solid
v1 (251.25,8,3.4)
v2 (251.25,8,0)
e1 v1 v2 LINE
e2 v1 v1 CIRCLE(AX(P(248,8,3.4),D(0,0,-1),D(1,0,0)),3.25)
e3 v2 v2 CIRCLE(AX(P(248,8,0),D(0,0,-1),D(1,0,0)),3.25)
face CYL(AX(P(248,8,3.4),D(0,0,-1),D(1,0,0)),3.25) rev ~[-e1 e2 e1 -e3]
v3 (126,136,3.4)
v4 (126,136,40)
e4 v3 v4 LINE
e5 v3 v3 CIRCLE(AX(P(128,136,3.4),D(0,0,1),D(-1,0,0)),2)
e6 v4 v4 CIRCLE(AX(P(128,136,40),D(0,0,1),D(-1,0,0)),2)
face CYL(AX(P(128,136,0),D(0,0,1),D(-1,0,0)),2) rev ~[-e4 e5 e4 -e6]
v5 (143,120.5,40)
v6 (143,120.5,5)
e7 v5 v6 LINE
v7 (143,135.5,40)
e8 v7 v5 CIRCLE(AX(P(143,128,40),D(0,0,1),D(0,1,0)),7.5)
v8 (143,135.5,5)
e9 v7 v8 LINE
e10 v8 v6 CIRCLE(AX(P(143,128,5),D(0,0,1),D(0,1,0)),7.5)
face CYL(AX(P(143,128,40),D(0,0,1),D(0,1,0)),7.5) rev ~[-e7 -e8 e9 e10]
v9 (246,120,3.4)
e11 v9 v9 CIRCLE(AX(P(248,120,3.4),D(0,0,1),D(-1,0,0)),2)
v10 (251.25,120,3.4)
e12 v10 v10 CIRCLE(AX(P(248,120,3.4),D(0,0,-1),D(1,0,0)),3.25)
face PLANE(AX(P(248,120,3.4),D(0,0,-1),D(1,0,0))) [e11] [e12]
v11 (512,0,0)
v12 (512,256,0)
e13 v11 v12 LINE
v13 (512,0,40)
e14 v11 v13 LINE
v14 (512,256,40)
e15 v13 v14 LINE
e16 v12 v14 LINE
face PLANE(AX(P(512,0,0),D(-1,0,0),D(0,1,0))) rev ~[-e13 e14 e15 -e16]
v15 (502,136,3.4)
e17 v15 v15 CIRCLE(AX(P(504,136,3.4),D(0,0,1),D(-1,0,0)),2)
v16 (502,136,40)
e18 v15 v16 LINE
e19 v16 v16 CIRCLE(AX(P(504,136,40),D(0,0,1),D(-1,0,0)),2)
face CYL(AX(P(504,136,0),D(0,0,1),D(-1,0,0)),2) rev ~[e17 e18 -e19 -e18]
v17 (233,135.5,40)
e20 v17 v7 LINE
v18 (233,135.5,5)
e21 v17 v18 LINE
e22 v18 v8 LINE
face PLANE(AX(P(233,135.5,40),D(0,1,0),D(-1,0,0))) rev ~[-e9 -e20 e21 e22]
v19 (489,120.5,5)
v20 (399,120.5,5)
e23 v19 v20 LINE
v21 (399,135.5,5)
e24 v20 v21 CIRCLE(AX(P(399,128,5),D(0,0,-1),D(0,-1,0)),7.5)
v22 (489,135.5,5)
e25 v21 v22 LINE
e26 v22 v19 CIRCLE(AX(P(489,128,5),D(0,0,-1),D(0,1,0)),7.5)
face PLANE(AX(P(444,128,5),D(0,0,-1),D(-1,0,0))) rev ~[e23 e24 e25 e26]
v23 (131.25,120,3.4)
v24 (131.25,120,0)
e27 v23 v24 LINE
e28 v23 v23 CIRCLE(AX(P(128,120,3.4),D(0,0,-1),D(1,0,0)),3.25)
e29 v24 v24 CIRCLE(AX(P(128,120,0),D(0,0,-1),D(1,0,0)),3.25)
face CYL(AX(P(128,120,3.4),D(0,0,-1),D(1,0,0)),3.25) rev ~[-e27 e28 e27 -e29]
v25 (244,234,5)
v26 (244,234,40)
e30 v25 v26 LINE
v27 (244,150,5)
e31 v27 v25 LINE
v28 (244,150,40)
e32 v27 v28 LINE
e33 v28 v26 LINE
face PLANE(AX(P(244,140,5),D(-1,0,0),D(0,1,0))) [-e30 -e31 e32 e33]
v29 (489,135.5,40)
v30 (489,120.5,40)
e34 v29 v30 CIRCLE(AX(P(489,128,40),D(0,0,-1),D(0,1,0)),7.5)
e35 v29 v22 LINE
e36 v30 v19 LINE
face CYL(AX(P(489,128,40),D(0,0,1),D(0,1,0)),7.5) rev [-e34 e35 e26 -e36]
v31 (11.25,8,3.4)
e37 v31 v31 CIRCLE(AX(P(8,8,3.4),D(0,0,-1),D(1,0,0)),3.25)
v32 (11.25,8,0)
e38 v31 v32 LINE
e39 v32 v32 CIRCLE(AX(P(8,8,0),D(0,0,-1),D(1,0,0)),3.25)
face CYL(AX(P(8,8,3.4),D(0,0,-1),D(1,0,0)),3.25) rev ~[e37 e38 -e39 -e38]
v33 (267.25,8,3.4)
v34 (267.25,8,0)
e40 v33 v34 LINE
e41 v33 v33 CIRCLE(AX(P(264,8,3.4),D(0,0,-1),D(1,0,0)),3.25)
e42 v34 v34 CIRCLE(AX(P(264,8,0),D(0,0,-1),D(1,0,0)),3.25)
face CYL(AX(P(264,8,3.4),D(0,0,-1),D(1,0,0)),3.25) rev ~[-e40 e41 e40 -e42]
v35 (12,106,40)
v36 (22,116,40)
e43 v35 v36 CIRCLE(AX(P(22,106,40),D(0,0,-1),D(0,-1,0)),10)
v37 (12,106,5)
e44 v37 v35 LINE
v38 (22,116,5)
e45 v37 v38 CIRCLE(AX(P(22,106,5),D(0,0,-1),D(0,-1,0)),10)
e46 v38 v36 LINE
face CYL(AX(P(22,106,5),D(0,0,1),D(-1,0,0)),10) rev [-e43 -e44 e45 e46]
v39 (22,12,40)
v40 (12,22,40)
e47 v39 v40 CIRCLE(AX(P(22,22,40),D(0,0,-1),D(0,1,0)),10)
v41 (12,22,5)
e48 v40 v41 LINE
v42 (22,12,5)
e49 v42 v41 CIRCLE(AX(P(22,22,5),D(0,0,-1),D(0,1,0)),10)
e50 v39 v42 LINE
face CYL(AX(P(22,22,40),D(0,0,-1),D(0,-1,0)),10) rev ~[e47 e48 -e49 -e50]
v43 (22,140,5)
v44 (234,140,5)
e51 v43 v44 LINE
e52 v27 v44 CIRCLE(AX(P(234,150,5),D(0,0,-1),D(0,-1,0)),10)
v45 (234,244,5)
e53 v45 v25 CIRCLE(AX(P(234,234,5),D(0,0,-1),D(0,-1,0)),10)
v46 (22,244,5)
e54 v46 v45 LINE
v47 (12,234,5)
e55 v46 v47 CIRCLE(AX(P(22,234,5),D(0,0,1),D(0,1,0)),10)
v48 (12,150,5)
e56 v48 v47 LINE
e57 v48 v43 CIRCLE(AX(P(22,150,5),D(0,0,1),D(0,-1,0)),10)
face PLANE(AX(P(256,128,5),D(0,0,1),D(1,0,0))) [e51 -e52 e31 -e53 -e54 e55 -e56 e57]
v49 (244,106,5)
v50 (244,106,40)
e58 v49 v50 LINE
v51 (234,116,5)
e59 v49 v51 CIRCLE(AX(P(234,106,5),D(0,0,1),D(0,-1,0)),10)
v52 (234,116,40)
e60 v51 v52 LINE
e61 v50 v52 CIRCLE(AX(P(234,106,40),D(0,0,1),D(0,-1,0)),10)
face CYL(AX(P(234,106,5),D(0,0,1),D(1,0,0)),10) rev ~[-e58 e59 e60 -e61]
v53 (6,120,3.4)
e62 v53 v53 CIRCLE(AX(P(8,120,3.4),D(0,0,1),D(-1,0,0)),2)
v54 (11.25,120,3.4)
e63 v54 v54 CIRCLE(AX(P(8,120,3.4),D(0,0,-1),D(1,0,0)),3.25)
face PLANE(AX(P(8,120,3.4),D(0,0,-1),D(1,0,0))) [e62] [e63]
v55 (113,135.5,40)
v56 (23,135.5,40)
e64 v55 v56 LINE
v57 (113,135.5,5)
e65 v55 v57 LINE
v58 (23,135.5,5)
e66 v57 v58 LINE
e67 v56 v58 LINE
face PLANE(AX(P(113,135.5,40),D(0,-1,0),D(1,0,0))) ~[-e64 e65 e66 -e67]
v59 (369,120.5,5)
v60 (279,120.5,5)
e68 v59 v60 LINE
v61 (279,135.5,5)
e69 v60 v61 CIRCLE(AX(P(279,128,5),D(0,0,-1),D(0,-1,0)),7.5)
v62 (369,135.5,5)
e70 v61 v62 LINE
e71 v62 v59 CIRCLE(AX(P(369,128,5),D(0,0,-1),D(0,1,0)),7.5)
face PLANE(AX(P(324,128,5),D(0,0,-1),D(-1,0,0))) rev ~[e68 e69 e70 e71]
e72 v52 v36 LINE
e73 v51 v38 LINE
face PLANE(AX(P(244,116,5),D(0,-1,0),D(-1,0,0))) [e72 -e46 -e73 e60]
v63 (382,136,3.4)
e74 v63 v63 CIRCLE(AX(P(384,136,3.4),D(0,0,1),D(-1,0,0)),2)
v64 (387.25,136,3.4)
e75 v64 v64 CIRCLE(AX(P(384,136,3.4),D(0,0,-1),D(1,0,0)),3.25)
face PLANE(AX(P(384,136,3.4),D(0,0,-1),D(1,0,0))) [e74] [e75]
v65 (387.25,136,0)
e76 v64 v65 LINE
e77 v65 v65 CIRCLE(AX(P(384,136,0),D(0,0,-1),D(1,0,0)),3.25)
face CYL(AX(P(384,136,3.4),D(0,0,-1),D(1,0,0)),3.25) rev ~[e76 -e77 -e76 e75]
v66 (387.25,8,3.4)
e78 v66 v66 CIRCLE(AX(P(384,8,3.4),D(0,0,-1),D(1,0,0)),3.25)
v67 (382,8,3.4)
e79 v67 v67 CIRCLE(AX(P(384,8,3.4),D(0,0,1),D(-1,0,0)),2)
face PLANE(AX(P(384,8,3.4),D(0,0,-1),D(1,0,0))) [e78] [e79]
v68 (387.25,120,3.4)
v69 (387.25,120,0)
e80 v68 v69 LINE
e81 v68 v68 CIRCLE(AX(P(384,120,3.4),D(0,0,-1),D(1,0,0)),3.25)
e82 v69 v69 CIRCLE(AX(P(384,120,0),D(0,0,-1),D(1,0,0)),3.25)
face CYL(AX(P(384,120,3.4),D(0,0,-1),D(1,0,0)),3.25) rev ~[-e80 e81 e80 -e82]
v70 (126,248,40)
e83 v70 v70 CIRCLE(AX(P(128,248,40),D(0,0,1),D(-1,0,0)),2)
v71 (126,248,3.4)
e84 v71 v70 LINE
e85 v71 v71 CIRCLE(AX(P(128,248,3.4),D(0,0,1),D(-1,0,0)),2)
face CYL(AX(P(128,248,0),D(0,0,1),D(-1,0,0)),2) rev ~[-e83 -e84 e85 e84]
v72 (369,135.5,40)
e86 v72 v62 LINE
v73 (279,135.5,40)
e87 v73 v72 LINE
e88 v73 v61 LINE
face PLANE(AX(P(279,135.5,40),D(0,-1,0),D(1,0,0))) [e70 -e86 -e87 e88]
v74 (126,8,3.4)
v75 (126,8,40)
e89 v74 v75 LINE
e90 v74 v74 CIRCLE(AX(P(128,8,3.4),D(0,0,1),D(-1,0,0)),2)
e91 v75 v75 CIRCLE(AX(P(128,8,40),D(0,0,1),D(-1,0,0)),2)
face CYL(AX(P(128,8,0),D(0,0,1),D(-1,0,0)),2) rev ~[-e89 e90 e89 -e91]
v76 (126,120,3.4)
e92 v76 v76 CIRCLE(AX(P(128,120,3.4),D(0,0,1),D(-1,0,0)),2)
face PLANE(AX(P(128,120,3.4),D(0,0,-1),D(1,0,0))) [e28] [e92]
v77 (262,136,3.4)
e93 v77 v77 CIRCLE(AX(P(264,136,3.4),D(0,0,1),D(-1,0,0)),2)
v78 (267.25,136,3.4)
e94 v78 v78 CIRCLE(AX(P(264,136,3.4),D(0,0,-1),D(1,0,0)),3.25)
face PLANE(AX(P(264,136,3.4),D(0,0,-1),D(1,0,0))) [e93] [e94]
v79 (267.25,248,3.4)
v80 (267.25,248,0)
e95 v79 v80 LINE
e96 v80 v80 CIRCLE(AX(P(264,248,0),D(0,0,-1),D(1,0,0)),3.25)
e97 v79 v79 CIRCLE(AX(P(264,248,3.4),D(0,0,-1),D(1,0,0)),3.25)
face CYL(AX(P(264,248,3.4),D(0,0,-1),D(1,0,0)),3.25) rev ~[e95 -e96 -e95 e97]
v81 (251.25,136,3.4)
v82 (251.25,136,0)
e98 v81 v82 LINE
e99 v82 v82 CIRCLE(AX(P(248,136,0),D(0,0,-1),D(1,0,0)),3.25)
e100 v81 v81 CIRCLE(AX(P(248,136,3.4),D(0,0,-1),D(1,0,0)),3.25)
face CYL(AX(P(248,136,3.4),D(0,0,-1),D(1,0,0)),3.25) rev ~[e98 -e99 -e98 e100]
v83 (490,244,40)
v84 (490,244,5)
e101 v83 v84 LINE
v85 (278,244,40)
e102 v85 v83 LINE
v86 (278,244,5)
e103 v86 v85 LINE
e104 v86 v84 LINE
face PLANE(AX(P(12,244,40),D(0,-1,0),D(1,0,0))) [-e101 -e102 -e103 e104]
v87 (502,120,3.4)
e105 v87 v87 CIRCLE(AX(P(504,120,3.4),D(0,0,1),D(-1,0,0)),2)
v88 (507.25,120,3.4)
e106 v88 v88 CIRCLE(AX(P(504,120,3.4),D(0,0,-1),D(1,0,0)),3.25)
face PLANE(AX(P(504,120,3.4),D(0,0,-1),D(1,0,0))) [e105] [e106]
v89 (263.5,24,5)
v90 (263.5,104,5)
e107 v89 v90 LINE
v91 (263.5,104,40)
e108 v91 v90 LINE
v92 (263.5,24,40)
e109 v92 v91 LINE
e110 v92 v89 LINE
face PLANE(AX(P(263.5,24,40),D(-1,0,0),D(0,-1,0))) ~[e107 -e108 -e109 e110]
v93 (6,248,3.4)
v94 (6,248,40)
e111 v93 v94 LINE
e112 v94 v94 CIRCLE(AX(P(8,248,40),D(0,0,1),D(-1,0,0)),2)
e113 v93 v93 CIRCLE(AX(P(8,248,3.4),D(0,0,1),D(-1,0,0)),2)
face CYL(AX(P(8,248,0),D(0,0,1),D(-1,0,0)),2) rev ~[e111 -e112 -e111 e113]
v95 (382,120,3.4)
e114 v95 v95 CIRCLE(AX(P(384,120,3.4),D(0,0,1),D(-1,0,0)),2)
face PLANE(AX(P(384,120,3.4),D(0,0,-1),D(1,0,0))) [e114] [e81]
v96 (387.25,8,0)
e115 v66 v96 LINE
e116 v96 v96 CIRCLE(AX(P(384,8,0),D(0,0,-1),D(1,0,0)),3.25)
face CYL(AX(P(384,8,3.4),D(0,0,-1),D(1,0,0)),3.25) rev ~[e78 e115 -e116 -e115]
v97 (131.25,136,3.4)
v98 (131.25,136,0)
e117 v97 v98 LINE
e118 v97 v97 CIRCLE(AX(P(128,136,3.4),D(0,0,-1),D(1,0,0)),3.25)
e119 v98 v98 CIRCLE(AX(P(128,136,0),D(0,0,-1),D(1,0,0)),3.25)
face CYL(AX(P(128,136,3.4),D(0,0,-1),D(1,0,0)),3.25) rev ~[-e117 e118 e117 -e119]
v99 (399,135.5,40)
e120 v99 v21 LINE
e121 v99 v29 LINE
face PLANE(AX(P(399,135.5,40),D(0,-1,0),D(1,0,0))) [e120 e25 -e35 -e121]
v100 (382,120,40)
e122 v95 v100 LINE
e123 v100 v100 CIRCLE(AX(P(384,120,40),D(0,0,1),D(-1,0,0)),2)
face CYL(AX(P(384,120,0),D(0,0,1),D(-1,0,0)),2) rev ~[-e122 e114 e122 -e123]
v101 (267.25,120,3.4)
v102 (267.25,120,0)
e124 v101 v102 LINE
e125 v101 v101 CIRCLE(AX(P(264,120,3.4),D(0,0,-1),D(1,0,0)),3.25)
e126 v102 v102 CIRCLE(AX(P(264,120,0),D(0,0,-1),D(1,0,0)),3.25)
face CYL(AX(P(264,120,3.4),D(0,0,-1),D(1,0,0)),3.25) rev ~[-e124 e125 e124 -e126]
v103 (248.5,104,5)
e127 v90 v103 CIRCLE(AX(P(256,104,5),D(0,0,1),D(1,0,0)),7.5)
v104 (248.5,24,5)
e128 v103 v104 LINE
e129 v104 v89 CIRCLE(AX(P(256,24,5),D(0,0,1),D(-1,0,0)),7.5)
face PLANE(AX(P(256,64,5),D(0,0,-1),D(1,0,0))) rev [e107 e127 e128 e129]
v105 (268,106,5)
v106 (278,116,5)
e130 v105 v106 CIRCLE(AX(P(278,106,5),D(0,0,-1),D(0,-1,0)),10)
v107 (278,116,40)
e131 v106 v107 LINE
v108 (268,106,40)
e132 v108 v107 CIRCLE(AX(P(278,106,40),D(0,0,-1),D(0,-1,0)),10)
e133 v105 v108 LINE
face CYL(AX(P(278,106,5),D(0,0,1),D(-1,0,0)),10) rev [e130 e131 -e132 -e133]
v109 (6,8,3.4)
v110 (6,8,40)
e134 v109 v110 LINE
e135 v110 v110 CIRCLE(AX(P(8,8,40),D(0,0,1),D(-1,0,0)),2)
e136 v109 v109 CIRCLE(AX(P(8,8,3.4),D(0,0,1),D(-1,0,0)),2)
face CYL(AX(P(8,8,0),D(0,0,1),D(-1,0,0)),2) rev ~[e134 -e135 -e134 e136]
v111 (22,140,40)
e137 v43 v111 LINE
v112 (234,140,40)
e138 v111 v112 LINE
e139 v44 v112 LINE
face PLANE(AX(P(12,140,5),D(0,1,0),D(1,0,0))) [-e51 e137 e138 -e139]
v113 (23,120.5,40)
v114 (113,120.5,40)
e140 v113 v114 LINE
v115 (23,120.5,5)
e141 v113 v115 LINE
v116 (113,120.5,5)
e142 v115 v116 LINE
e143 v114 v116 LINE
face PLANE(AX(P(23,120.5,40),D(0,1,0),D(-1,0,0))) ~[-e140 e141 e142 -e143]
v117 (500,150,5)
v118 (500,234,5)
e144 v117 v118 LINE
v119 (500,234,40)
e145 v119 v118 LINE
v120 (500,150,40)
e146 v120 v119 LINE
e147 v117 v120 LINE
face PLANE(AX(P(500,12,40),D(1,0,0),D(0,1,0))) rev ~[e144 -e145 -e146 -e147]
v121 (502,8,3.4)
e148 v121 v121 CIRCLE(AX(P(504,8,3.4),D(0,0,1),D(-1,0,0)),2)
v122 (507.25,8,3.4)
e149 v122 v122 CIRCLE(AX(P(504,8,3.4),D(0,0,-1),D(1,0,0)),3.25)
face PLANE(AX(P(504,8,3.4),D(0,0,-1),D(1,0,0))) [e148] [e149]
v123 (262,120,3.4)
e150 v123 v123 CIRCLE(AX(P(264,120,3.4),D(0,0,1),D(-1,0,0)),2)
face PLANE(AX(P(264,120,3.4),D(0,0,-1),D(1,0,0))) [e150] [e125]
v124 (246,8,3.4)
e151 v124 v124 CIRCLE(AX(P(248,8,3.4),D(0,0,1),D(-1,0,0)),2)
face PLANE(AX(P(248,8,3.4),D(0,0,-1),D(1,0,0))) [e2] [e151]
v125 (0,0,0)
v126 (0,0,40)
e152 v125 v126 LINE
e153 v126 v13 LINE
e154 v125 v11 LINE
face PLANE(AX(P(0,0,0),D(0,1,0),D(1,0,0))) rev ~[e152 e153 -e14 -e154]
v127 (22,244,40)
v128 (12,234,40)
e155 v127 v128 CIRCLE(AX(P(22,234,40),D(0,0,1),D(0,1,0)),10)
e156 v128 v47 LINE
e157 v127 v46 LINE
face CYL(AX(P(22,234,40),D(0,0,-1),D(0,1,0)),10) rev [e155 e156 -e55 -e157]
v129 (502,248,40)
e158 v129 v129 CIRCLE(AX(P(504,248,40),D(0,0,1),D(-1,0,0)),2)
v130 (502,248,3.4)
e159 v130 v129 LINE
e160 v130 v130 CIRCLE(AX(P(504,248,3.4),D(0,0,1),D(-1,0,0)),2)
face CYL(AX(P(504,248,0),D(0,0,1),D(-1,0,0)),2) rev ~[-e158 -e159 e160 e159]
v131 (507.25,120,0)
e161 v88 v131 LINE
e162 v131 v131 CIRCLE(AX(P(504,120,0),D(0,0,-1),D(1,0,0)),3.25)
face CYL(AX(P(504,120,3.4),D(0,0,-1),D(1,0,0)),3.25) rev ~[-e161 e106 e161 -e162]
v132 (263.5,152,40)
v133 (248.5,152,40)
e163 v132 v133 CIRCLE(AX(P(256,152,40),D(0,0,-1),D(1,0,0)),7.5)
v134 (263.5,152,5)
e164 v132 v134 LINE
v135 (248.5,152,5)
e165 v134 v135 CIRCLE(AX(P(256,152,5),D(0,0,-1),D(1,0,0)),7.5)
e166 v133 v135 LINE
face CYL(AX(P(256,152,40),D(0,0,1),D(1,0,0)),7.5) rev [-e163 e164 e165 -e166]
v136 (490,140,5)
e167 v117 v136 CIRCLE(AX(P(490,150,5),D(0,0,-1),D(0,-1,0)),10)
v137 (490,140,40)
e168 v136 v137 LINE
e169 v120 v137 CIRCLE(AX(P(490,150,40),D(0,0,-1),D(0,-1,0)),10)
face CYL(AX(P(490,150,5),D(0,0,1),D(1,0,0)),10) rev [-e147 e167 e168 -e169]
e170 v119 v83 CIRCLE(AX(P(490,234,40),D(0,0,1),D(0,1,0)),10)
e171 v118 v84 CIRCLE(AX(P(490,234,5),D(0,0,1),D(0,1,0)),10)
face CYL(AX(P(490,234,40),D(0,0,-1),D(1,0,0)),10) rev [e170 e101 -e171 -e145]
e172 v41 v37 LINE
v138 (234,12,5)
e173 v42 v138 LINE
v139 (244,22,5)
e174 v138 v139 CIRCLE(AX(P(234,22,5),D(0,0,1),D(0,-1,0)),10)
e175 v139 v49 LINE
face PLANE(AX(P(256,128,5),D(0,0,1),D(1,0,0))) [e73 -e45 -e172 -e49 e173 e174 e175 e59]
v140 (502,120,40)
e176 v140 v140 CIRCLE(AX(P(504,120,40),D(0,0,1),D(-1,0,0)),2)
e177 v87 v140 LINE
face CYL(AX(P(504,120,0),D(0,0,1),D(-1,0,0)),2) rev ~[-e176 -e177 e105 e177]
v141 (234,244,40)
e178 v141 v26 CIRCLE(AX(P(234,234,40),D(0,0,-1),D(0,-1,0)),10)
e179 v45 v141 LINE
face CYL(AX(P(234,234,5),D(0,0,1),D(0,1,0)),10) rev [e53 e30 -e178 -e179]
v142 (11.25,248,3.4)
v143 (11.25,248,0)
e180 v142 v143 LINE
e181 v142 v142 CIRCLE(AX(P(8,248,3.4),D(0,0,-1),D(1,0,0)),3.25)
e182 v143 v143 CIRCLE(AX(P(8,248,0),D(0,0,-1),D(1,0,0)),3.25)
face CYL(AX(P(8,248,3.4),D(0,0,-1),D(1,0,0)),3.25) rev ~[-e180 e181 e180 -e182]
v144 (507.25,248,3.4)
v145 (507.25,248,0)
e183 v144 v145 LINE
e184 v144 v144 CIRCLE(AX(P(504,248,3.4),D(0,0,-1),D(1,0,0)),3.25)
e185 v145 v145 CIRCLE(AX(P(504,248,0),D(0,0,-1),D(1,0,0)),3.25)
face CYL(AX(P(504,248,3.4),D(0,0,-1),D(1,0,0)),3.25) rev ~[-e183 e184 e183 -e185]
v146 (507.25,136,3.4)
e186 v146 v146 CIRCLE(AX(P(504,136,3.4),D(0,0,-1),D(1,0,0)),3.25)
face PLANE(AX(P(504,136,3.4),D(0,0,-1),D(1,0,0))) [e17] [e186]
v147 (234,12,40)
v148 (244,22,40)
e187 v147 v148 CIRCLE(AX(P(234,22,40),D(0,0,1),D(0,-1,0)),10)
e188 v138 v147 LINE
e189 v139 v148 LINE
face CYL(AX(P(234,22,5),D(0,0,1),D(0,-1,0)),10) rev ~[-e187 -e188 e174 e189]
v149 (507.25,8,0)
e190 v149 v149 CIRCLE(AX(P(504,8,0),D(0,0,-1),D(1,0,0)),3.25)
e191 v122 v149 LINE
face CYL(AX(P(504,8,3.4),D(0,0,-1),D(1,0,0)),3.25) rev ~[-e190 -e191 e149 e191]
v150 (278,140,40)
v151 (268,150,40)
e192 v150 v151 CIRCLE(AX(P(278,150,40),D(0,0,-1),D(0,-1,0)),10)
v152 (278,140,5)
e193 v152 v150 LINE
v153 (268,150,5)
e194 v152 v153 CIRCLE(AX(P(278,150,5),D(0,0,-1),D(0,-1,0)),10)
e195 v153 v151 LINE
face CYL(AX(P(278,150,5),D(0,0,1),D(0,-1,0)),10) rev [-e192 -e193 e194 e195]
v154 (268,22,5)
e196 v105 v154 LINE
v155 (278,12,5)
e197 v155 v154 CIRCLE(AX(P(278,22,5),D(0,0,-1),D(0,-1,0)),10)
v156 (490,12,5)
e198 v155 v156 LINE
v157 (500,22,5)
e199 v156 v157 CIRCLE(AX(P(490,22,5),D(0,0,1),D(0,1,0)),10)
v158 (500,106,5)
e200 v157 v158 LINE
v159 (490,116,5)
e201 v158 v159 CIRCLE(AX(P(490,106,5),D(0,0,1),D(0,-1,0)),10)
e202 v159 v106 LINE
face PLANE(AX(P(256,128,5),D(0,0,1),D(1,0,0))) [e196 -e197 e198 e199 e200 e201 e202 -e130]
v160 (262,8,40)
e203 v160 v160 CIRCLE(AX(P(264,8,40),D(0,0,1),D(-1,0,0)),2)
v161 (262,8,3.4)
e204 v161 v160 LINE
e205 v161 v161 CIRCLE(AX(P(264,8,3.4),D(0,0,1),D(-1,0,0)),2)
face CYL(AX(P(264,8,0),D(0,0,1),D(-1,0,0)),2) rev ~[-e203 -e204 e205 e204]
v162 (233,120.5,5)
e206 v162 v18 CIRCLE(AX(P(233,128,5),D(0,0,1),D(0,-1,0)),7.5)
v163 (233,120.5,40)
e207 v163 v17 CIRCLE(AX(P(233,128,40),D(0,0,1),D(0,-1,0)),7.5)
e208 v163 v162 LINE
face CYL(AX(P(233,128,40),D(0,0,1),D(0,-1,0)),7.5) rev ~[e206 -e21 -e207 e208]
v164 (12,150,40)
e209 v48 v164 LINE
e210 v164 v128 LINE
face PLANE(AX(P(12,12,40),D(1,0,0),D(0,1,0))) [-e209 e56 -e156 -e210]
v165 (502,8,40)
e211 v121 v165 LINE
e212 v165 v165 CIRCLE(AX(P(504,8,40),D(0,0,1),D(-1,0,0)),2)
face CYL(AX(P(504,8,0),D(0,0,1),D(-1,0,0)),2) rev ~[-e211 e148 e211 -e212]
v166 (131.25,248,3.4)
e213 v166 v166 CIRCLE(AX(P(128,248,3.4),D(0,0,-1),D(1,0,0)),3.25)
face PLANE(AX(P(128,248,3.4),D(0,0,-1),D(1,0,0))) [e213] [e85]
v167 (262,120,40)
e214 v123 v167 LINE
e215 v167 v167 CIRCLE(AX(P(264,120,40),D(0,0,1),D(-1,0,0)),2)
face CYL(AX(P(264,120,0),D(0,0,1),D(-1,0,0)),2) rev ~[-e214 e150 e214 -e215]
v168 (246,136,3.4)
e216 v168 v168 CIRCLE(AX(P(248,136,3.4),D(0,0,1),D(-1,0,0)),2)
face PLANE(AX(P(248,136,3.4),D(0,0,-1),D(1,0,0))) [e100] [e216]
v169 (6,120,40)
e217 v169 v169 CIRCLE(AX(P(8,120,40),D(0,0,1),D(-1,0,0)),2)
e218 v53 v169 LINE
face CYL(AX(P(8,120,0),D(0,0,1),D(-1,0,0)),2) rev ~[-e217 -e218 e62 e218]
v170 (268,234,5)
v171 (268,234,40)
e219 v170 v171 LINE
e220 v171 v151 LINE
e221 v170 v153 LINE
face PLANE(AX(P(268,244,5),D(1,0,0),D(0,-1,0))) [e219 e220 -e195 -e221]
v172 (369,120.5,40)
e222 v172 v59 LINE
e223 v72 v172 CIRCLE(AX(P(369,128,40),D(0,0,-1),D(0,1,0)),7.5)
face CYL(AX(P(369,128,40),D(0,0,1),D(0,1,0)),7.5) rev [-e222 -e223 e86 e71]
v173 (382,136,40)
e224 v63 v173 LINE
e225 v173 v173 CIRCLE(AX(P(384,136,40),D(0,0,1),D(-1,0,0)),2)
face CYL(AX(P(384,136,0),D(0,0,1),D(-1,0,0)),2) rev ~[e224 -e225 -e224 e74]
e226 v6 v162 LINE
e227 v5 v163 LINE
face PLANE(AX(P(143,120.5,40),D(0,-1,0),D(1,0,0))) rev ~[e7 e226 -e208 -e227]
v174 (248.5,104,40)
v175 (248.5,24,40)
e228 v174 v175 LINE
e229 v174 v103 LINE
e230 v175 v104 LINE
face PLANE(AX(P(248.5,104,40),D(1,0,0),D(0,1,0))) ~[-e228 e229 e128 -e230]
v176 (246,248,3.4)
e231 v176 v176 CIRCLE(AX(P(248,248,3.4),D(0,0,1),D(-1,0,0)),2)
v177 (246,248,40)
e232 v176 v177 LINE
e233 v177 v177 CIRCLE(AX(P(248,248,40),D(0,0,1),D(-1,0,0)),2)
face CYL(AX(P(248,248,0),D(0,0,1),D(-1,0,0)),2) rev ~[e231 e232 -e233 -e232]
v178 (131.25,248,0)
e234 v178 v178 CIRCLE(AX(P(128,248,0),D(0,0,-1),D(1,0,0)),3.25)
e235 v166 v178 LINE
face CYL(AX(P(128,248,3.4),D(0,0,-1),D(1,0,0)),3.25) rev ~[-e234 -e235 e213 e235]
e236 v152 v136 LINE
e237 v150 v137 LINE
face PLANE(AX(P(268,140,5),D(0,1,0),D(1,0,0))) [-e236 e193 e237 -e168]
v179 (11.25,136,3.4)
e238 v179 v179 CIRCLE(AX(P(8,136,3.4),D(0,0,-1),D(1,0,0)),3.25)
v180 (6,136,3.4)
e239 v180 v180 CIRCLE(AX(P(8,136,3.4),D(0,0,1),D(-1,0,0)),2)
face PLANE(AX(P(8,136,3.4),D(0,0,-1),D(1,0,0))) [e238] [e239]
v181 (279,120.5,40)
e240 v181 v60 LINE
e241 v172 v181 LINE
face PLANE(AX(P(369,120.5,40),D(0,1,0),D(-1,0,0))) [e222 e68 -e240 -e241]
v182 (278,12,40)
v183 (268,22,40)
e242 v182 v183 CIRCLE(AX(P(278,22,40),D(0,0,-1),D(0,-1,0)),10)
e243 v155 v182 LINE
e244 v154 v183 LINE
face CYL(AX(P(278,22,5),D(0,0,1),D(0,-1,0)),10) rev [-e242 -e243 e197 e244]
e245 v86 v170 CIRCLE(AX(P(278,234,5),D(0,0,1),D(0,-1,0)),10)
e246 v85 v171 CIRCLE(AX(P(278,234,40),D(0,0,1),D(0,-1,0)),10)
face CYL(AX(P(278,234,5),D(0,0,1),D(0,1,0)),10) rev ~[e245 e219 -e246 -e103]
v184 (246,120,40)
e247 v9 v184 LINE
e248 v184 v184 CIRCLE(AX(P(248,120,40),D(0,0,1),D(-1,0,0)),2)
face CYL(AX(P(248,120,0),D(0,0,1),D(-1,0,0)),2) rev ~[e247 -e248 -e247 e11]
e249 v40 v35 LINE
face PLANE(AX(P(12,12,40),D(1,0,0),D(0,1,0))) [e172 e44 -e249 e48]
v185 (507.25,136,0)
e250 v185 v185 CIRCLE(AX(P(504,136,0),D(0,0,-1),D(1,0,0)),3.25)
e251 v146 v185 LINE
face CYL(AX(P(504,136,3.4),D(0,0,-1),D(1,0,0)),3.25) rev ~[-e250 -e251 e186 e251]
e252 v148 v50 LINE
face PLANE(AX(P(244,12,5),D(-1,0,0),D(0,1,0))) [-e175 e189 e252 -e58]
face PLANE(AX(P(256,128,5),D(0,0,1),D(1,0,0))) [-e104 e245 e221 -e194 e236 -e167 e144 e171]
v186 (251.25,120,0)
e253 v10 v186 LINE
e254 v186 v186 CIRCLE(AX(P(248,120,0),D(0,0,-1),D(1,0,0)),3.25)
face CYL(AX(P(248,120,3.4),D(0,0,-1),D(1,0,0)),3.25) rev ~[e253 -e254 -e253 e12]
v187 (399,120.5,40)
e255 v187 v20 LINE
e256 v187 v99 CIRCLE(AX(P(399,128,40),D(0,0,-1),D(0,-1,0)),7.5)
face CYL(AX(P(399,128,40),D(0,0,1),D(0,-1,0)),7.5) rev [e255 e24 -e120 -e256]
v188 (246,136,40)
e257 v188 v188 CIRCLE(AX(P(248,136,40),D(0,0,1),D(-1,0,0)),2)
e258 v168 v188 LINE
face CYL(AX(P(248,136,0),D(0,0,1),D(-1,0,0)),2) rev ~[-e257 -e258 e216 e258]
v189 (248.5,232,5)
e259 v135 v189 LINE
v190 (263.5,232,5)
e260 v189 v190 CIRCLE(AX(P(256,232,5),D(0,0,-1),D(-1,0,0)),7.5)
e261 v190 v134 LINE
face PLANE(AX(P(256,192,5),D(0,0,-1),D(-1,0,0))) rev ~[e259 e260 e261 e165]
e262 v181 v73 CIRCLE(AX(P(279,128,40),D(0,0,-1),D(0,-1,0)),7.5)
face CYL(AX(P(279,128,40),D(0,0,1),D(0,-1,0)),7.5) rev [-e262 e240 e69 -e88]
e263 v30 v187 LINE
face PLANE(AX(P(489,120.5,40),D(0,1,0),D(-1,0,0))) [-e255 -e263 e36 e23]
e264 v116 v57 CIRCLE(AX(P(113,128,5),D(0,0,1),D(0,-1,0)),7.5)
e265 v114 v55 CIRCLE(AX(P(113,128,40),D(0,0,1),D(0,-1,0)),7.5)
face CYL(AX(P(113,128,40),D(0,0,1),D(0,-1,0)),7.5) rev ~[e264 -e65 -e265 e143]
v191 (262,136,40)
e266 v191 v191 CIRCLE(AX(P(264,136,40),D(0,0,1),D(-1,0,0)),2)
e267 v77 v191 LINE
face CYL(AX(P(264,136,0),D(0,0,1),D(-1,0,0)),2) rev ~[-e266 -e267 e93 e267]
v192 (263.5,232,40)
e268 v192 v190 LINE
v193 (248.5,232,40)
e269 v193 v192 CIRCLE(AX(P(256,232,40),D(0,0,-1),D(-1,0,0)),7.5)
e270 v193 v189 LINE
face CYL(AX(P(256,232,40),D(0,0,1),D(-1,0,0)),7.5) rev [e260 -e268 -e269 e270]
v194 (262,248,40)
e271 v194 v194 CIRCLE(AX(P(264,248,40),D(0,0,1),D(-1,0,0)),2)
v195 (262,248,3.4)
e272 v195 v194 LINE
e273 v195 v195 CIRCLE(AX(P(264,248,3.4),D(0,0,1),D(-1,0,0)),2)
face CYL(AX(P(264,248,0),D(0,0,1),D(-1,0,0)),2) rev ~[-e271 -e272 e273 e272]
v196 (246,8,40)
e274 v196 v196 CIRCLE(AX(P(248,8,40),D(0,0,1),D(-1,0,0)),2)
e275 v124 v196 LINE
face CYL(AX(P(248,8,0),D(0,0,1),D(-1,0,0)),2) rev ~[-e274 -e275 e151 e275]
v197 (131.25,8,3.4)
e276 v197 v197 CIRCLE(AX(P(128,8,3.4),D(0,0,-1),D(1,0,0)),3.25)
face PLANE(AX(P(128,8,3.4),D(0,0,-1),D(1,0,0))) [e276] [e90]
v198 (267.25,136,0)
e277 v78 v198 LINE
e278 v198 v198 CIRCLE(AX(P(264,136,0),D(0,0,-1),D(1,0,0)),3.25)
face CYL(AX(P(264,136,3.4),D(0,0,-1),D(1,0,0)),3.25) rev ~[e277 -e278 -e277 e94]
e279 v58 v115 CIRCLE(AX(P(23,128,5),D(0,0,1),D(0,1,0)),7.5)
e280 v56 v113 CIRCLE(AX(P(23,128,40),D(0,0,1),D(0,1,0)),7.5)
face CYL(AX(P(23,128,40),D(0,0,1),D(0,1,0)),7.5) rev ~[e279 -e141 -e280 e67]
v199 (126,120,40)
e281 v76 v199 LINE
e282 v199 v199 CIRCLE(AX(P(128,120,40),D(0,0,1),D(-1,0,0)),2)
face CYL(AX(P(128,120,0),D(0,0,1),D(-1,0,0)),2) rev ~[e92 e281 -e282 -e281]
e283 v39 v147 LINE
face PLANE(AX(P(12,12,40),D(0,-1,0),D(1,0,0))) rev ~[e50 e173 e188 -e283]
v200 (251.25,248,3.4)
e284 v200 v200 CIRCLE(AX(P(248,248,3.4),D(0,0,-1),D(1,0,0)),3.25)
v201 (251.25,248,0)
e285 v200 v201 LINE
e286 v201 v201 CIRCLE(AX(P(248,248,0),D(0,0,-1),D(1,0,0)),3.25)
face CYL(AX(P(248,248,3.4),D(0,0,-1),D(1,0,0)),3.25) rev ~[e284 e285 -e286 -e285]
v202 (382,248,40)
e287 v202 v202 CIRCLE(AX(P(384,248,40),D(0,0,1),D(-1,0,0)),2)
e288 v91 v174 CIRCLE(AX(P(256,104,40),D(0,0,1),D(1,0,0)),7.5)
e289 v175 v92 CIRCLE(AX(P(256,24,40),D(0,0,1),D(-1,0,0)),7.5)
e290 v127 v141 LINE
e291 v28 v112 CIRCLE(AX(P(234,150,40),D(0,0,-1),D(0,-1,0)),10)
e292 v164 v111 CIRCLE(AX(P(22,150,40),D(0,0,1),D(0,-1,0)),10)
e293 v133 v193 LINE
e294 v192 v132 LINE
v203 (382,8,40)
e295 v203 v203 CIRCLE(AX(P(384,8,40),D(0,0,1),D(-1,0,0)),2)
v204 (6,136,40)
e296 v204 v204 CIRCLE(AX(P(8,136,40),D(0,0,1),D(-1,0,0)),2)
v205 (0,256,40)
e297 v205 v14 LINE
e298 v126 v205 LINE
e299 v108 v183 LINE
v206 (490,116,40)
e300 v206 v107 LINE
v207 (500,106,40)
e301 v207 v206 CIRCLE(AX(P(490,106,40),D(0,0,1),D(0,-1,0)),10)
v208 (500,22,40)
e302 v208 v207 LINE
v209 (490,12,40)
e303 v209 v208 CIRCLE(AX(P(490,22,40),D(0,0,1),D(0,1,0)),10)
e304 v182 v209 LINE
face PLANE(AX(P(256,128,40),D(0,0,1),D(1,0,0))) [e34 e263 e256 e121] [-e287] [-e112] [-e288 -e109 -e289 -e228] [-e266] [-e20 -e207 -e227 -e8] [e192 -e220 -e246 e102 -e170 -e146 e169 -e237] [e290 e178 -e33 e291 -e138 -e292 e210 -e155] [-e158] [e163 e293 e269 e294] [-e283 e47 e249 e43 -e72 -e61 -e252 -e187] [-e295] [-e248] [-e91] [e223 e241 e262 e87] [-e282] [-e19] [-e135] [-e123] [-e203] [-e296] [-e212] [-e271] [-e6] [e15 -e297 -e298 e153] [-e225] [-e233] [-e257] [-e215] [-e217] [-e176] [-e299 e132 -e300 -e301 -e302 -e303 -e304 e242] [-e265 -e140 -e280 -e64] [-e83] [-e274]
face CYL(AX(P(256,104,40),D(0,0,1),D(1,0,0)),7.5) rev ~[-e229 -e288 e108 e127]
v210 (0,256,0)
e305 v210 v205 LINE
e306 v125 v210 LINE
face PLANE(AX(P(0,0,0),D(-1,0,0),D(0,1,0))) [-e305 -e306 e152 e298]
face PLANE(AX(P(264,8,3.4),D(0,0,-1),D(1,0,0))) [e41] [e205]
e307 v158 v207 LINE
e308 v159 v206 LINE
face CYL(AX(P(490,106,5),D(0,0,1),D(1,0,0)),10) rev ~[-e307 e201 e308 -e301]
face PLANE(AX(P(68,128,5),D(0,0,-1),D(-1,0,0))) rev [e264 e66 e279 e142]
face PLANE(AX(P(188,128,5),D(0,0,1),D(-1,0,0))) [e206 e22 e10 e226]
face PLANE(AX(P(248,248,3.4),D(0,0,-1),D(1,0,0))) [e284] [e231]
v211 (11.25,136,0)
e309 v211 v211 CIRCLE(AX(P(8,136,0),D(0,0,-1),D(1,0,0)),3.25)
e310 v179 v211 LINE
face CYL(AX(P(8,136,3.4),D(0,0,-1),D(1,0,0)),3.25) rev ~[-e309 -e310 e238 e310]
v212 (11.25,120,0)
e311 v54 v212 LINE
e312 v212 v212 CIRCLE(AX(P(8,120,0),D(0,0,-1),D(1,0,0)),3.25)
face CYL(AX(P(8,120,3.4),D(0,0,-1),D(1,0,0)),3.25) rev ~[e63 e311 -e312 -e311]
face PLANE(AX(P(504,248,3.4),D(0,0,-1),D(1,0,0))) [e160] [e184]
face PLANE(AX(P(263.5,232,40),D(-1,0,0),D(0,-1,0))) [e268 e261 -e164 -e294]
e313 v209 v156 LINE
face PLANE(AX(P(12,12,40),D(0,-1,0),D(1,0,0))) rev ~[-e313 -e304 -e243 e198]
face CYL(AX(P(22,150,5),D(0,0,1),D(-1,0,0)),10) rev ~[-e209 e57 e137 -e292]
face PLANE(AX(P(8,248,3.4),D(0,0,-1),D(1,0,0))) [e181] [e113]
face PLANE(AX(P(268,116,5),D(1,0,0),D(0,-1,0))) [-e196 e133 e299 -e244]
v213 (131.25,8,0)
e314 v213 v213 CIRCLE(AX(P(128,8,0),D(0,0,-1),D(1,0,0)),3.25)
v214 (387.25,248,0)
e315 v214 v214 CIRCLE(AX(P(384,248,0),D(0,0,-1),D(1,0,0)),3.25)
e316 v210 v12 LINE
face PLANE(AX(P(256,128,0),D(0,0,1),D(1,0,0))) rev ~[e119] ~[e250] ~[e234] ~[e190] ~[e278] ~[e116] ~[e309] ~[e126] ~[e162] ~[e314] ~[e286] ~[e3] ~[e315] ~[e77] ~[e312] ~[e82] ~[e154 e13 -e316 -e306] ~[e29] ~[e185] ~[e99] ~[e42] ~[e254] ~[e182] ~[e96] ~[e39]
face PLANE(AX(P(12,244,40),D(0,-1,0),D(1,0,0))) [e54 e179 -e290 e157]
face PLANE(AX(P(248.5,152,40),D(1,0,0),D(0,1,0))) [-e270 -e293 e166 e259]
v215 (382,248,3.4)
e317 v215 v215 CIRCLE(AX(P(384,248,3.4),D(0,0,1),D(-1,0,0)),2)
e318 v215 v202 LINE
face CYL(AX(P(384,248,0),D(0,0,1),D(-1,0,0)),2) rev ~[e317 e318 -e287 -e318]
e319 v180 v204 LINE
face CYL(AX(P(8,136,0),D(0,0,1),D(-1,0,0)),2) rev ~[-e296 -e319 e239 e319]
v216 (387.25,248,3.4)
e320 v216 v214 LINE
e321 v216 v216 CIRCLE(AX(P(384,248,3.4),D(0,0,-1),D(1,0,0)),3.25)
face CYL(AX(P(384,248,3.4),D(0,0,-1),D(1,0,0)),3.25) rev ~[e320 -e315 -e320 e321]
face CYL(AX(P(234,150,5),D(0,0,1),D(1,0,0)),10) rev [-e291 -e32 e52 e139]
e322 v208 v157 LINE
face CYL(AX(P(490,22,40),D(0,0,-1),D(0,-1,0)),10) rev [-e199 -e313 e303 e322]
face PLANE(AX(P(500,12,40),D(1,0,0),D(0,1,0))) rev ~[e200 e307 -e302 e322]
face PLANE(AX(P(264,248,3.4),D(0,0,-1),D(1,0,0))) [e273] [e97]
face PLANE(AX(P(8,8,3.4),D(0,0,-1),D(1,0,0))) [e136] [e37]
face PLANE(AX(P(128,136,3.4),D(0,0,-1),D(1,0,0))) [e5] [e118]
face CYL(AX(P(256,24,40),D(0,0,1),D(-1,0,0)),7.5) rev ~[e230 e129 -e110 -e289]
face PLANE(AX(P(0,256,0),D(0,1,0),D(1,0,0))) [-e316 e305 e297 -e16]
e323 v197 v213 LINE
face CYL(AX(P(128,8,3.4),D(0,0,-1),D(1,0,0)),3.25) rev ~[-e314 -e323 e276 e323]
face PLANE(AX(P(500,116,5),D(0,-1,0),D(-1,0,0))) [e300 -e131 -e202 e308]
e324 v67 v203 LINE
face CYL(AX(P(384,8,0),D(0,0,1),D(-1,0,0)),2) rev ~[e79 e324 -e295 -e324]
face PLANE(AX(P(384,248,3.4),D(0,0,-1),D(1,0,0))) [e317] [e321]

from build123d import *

# Parameters (mm, degrees)
SKIZZE1_W                                            = 512
SKIZZE1_H                                            = 256
AUFSATZ_LINEAR_AUSTRAGEN1_DEPTH                      = 40
SKIZZE2_W                                            = 488
SKIZZE2_H                                            = 232
SCHNITT_LINEAR_AUSTRAGEN1_DEPTH                      = 35
AUFSATZ_LINEAR_AUSTRAGEN2_DEPTH                      = 35
STIRNSENKUNG_F_R_M3_ZYLINDERSCHRAUBE_MIT_D           = 4
STIRNSENKUNG_F_R_M3_ZYLINDERSCHRAUBE_MIT_CBORE_D     = 6.5
STIRNSENKUNG_F_R_M3_ZYLINDERSCHRAUBE_MIT_CBORE_DEPTH = 3.4
VERRUNDUNG1_R                                        = 10
SCHNITT_LINEAR_AUSTRAGEN2_DEPTH                      = 35
SPIEGELN7_COPY_1_DEPTH                               = 35
SCHNITT_LINEAR_AUSTRAGEN3_DEPTH                      = 35


with BuildPart() as part:
    # Skizze1 → Aufsatz-Linear austragen1 (new body)
    with BuildSketch(Plane.XY):
        with Locations((256, 128)):
            Rectangle(SKIZZE1_W, SKIZZE1_H)
    extrude(amount=AUFSATZ_LINEAR_AUSTRAGEN1_DEPTH)

    # Skizze2 → Schnitt-Linear austragen1 (cut)
    with BuildSketch(Plane.XY.offset(40)):
        with Locations((256, 128)):
            Rectangle(SKIZZE2_W, SKIZZE2_H)
    extrude(amount=-SCHNITT_LINEAR_AUSTRAGEN1_DEPTH, mode=Mode.SUBTRACT)

    # Skizze5 → Aufsatz-Linear austragen2 (add)
    with BuildSketch(Plane.XY.offset(5)):
        Polygon((12, 140), (244, 140), (244, 244), (268, 244), (268, 140), (500, 140), (500, 116), (268, 116), (268, 12), (244, 12), (244, 116), (12, 116), align=None)
    extrude(amount=AUFSATZ_LINEAR_AUSTRAGEN2_DEPTH)

    # Stirnsenkung für M3 Zylinderschraube mit Innensechskant1 (through all)
    with Locations(Plane(origin=(0, 0, 0), x_dir=(1, 0, 0), z_dir=(0, 0, -1))):
        with Locations((8, -248), (128, -248), (248, -248), (264, -248), (384, -248), (384, -8), (264, -8), (128, -8), (504, -248), (504, -8), (8, -8), (384, -136), (264, -136), (128, -136), (128, -120), (264, -120), (384, -120), (248, -136), (248, -120), (248, -8), (504, -136), (504, -120), (8, -136), (8, -120)):
            CounterBoreHole(STIRNSENKUNG_F_R_M3_ZYLINDERSCHRAUBE_MIT_D / 2, STIRNSENKUNG_F_R_M3_ZYLINDERSCHRAUBE_MIT_CBORE_D / 2, STIRNSENKUNG_F_R_M3_ZYLINDERSCHRAUBE_MIT_CBORE_DEPTH)

    # Verrundung1
    verrundung1_edges = [part.edges().sort_by_distance(p)[0] for p in [
        (12, 244, 22.5),
        (500, 244, 22.5),
        (500, 12, 22.5),
        (12, 12, 22.5),
        (244, 140, 22.5),
        (244, 244, 22.5),
        (268, 244, 22.5),
        (268, 140, 22.5),
        (500, 140, 22.5),
        (500, 116, 22.5),
        (268, 116, 22.5),
        (268, 12, 22.5),
        (244, 12, 22.5),
        (244, 116, 22.5),
        (12, 116, 22.5),
        (12, 140, 22.5),
    ]]
    fillet(verrundung1_edges, radius=VERRUNDUNG1_R)

    # Skizze6 → Schnitt-Linear austragen2 (cut)
    with BuildSketch(Plane.XY.offset(40)):
        with BuildLine():
            Line((489, 120.5), (399, 120.5))
            ThreePointArc((399, 120.5), (391.5, 128), (399, 135.5))
            Line((399, 135.5), (489, 135.5))
            ThreePointArc((489, 135.5), (496.5, 128), (489, 120.5))
        make_face()
    schnitt_linear_austragen2 = extrude(amount=-SCHNITT_LINEAR_AUSTRAGEN2_DEPTH, mode=Mode.SUBTRACT)

    # Skizzen-Muster1: Schnitt-Linear austragen2 at 1 more place
    with Locations((-120, 0, 0)):
        add(schnitt_linear_austragen2, mode=Mode.SUBTRACT)

    # Spiegeln7: Schnitt-Linear austragen2 across plane
    add(schnitt_linear_austragen2.mirror(Plane.ZY.offset(-256)), mode=Mode.SUBTRACT)

    # Spiegeln7 copy 1 sketch → Spiegeln7 copy 1 (cut)
    with BuildSketch(Plane(origin=(632, 0, 40), x_dir=(-1, 0, 0), z_dir=(0, 0, 1))):
        with BuildLine():
            Line((489, -120.5), (399, -120.5))
            ThreePointArc((399, -120.5), (391.5, -128), (399, -135.5))
            Line((399, -135.5), (489, -135.5))
            ThreePointArc((489, -135.5), (496.5, -128), (489, -120.5))
        make_face()
    extrude(amount=-SPIEGELN7_COPY_1_DEPTH, mode=Mode.SUBTRACT)

    # Skizze9 → Schnitt-Linear austragen3 (cut)
    with BuildSketch(Plane.XY.offset(40)):
        with BuildLine():
            Line((263.5, 232), (263.5, 152))
            ThreePointArc((263.5, 152), (256, 144.5), (248.5, 152))
            Line((248.5, 152), (248.5, 232))
            ThreePointArc((248.5, 232), (256, 239.5), (263.5, 232))
        make_face()
    schnitt_linear_austragen3 = extrude(amount=-SCHNITT_LINEAR_AUSTRAGEN3_DEPTH, mode=Mode.SUBTRACT)

    # Spiegeln8: Schnitt-Linear austragen3 across plane
    add(schnitt_linear_austragen3.mirror(Plane.ZX.offset(128)), mode=Mode.SUBTRACT)


solid = part.part
